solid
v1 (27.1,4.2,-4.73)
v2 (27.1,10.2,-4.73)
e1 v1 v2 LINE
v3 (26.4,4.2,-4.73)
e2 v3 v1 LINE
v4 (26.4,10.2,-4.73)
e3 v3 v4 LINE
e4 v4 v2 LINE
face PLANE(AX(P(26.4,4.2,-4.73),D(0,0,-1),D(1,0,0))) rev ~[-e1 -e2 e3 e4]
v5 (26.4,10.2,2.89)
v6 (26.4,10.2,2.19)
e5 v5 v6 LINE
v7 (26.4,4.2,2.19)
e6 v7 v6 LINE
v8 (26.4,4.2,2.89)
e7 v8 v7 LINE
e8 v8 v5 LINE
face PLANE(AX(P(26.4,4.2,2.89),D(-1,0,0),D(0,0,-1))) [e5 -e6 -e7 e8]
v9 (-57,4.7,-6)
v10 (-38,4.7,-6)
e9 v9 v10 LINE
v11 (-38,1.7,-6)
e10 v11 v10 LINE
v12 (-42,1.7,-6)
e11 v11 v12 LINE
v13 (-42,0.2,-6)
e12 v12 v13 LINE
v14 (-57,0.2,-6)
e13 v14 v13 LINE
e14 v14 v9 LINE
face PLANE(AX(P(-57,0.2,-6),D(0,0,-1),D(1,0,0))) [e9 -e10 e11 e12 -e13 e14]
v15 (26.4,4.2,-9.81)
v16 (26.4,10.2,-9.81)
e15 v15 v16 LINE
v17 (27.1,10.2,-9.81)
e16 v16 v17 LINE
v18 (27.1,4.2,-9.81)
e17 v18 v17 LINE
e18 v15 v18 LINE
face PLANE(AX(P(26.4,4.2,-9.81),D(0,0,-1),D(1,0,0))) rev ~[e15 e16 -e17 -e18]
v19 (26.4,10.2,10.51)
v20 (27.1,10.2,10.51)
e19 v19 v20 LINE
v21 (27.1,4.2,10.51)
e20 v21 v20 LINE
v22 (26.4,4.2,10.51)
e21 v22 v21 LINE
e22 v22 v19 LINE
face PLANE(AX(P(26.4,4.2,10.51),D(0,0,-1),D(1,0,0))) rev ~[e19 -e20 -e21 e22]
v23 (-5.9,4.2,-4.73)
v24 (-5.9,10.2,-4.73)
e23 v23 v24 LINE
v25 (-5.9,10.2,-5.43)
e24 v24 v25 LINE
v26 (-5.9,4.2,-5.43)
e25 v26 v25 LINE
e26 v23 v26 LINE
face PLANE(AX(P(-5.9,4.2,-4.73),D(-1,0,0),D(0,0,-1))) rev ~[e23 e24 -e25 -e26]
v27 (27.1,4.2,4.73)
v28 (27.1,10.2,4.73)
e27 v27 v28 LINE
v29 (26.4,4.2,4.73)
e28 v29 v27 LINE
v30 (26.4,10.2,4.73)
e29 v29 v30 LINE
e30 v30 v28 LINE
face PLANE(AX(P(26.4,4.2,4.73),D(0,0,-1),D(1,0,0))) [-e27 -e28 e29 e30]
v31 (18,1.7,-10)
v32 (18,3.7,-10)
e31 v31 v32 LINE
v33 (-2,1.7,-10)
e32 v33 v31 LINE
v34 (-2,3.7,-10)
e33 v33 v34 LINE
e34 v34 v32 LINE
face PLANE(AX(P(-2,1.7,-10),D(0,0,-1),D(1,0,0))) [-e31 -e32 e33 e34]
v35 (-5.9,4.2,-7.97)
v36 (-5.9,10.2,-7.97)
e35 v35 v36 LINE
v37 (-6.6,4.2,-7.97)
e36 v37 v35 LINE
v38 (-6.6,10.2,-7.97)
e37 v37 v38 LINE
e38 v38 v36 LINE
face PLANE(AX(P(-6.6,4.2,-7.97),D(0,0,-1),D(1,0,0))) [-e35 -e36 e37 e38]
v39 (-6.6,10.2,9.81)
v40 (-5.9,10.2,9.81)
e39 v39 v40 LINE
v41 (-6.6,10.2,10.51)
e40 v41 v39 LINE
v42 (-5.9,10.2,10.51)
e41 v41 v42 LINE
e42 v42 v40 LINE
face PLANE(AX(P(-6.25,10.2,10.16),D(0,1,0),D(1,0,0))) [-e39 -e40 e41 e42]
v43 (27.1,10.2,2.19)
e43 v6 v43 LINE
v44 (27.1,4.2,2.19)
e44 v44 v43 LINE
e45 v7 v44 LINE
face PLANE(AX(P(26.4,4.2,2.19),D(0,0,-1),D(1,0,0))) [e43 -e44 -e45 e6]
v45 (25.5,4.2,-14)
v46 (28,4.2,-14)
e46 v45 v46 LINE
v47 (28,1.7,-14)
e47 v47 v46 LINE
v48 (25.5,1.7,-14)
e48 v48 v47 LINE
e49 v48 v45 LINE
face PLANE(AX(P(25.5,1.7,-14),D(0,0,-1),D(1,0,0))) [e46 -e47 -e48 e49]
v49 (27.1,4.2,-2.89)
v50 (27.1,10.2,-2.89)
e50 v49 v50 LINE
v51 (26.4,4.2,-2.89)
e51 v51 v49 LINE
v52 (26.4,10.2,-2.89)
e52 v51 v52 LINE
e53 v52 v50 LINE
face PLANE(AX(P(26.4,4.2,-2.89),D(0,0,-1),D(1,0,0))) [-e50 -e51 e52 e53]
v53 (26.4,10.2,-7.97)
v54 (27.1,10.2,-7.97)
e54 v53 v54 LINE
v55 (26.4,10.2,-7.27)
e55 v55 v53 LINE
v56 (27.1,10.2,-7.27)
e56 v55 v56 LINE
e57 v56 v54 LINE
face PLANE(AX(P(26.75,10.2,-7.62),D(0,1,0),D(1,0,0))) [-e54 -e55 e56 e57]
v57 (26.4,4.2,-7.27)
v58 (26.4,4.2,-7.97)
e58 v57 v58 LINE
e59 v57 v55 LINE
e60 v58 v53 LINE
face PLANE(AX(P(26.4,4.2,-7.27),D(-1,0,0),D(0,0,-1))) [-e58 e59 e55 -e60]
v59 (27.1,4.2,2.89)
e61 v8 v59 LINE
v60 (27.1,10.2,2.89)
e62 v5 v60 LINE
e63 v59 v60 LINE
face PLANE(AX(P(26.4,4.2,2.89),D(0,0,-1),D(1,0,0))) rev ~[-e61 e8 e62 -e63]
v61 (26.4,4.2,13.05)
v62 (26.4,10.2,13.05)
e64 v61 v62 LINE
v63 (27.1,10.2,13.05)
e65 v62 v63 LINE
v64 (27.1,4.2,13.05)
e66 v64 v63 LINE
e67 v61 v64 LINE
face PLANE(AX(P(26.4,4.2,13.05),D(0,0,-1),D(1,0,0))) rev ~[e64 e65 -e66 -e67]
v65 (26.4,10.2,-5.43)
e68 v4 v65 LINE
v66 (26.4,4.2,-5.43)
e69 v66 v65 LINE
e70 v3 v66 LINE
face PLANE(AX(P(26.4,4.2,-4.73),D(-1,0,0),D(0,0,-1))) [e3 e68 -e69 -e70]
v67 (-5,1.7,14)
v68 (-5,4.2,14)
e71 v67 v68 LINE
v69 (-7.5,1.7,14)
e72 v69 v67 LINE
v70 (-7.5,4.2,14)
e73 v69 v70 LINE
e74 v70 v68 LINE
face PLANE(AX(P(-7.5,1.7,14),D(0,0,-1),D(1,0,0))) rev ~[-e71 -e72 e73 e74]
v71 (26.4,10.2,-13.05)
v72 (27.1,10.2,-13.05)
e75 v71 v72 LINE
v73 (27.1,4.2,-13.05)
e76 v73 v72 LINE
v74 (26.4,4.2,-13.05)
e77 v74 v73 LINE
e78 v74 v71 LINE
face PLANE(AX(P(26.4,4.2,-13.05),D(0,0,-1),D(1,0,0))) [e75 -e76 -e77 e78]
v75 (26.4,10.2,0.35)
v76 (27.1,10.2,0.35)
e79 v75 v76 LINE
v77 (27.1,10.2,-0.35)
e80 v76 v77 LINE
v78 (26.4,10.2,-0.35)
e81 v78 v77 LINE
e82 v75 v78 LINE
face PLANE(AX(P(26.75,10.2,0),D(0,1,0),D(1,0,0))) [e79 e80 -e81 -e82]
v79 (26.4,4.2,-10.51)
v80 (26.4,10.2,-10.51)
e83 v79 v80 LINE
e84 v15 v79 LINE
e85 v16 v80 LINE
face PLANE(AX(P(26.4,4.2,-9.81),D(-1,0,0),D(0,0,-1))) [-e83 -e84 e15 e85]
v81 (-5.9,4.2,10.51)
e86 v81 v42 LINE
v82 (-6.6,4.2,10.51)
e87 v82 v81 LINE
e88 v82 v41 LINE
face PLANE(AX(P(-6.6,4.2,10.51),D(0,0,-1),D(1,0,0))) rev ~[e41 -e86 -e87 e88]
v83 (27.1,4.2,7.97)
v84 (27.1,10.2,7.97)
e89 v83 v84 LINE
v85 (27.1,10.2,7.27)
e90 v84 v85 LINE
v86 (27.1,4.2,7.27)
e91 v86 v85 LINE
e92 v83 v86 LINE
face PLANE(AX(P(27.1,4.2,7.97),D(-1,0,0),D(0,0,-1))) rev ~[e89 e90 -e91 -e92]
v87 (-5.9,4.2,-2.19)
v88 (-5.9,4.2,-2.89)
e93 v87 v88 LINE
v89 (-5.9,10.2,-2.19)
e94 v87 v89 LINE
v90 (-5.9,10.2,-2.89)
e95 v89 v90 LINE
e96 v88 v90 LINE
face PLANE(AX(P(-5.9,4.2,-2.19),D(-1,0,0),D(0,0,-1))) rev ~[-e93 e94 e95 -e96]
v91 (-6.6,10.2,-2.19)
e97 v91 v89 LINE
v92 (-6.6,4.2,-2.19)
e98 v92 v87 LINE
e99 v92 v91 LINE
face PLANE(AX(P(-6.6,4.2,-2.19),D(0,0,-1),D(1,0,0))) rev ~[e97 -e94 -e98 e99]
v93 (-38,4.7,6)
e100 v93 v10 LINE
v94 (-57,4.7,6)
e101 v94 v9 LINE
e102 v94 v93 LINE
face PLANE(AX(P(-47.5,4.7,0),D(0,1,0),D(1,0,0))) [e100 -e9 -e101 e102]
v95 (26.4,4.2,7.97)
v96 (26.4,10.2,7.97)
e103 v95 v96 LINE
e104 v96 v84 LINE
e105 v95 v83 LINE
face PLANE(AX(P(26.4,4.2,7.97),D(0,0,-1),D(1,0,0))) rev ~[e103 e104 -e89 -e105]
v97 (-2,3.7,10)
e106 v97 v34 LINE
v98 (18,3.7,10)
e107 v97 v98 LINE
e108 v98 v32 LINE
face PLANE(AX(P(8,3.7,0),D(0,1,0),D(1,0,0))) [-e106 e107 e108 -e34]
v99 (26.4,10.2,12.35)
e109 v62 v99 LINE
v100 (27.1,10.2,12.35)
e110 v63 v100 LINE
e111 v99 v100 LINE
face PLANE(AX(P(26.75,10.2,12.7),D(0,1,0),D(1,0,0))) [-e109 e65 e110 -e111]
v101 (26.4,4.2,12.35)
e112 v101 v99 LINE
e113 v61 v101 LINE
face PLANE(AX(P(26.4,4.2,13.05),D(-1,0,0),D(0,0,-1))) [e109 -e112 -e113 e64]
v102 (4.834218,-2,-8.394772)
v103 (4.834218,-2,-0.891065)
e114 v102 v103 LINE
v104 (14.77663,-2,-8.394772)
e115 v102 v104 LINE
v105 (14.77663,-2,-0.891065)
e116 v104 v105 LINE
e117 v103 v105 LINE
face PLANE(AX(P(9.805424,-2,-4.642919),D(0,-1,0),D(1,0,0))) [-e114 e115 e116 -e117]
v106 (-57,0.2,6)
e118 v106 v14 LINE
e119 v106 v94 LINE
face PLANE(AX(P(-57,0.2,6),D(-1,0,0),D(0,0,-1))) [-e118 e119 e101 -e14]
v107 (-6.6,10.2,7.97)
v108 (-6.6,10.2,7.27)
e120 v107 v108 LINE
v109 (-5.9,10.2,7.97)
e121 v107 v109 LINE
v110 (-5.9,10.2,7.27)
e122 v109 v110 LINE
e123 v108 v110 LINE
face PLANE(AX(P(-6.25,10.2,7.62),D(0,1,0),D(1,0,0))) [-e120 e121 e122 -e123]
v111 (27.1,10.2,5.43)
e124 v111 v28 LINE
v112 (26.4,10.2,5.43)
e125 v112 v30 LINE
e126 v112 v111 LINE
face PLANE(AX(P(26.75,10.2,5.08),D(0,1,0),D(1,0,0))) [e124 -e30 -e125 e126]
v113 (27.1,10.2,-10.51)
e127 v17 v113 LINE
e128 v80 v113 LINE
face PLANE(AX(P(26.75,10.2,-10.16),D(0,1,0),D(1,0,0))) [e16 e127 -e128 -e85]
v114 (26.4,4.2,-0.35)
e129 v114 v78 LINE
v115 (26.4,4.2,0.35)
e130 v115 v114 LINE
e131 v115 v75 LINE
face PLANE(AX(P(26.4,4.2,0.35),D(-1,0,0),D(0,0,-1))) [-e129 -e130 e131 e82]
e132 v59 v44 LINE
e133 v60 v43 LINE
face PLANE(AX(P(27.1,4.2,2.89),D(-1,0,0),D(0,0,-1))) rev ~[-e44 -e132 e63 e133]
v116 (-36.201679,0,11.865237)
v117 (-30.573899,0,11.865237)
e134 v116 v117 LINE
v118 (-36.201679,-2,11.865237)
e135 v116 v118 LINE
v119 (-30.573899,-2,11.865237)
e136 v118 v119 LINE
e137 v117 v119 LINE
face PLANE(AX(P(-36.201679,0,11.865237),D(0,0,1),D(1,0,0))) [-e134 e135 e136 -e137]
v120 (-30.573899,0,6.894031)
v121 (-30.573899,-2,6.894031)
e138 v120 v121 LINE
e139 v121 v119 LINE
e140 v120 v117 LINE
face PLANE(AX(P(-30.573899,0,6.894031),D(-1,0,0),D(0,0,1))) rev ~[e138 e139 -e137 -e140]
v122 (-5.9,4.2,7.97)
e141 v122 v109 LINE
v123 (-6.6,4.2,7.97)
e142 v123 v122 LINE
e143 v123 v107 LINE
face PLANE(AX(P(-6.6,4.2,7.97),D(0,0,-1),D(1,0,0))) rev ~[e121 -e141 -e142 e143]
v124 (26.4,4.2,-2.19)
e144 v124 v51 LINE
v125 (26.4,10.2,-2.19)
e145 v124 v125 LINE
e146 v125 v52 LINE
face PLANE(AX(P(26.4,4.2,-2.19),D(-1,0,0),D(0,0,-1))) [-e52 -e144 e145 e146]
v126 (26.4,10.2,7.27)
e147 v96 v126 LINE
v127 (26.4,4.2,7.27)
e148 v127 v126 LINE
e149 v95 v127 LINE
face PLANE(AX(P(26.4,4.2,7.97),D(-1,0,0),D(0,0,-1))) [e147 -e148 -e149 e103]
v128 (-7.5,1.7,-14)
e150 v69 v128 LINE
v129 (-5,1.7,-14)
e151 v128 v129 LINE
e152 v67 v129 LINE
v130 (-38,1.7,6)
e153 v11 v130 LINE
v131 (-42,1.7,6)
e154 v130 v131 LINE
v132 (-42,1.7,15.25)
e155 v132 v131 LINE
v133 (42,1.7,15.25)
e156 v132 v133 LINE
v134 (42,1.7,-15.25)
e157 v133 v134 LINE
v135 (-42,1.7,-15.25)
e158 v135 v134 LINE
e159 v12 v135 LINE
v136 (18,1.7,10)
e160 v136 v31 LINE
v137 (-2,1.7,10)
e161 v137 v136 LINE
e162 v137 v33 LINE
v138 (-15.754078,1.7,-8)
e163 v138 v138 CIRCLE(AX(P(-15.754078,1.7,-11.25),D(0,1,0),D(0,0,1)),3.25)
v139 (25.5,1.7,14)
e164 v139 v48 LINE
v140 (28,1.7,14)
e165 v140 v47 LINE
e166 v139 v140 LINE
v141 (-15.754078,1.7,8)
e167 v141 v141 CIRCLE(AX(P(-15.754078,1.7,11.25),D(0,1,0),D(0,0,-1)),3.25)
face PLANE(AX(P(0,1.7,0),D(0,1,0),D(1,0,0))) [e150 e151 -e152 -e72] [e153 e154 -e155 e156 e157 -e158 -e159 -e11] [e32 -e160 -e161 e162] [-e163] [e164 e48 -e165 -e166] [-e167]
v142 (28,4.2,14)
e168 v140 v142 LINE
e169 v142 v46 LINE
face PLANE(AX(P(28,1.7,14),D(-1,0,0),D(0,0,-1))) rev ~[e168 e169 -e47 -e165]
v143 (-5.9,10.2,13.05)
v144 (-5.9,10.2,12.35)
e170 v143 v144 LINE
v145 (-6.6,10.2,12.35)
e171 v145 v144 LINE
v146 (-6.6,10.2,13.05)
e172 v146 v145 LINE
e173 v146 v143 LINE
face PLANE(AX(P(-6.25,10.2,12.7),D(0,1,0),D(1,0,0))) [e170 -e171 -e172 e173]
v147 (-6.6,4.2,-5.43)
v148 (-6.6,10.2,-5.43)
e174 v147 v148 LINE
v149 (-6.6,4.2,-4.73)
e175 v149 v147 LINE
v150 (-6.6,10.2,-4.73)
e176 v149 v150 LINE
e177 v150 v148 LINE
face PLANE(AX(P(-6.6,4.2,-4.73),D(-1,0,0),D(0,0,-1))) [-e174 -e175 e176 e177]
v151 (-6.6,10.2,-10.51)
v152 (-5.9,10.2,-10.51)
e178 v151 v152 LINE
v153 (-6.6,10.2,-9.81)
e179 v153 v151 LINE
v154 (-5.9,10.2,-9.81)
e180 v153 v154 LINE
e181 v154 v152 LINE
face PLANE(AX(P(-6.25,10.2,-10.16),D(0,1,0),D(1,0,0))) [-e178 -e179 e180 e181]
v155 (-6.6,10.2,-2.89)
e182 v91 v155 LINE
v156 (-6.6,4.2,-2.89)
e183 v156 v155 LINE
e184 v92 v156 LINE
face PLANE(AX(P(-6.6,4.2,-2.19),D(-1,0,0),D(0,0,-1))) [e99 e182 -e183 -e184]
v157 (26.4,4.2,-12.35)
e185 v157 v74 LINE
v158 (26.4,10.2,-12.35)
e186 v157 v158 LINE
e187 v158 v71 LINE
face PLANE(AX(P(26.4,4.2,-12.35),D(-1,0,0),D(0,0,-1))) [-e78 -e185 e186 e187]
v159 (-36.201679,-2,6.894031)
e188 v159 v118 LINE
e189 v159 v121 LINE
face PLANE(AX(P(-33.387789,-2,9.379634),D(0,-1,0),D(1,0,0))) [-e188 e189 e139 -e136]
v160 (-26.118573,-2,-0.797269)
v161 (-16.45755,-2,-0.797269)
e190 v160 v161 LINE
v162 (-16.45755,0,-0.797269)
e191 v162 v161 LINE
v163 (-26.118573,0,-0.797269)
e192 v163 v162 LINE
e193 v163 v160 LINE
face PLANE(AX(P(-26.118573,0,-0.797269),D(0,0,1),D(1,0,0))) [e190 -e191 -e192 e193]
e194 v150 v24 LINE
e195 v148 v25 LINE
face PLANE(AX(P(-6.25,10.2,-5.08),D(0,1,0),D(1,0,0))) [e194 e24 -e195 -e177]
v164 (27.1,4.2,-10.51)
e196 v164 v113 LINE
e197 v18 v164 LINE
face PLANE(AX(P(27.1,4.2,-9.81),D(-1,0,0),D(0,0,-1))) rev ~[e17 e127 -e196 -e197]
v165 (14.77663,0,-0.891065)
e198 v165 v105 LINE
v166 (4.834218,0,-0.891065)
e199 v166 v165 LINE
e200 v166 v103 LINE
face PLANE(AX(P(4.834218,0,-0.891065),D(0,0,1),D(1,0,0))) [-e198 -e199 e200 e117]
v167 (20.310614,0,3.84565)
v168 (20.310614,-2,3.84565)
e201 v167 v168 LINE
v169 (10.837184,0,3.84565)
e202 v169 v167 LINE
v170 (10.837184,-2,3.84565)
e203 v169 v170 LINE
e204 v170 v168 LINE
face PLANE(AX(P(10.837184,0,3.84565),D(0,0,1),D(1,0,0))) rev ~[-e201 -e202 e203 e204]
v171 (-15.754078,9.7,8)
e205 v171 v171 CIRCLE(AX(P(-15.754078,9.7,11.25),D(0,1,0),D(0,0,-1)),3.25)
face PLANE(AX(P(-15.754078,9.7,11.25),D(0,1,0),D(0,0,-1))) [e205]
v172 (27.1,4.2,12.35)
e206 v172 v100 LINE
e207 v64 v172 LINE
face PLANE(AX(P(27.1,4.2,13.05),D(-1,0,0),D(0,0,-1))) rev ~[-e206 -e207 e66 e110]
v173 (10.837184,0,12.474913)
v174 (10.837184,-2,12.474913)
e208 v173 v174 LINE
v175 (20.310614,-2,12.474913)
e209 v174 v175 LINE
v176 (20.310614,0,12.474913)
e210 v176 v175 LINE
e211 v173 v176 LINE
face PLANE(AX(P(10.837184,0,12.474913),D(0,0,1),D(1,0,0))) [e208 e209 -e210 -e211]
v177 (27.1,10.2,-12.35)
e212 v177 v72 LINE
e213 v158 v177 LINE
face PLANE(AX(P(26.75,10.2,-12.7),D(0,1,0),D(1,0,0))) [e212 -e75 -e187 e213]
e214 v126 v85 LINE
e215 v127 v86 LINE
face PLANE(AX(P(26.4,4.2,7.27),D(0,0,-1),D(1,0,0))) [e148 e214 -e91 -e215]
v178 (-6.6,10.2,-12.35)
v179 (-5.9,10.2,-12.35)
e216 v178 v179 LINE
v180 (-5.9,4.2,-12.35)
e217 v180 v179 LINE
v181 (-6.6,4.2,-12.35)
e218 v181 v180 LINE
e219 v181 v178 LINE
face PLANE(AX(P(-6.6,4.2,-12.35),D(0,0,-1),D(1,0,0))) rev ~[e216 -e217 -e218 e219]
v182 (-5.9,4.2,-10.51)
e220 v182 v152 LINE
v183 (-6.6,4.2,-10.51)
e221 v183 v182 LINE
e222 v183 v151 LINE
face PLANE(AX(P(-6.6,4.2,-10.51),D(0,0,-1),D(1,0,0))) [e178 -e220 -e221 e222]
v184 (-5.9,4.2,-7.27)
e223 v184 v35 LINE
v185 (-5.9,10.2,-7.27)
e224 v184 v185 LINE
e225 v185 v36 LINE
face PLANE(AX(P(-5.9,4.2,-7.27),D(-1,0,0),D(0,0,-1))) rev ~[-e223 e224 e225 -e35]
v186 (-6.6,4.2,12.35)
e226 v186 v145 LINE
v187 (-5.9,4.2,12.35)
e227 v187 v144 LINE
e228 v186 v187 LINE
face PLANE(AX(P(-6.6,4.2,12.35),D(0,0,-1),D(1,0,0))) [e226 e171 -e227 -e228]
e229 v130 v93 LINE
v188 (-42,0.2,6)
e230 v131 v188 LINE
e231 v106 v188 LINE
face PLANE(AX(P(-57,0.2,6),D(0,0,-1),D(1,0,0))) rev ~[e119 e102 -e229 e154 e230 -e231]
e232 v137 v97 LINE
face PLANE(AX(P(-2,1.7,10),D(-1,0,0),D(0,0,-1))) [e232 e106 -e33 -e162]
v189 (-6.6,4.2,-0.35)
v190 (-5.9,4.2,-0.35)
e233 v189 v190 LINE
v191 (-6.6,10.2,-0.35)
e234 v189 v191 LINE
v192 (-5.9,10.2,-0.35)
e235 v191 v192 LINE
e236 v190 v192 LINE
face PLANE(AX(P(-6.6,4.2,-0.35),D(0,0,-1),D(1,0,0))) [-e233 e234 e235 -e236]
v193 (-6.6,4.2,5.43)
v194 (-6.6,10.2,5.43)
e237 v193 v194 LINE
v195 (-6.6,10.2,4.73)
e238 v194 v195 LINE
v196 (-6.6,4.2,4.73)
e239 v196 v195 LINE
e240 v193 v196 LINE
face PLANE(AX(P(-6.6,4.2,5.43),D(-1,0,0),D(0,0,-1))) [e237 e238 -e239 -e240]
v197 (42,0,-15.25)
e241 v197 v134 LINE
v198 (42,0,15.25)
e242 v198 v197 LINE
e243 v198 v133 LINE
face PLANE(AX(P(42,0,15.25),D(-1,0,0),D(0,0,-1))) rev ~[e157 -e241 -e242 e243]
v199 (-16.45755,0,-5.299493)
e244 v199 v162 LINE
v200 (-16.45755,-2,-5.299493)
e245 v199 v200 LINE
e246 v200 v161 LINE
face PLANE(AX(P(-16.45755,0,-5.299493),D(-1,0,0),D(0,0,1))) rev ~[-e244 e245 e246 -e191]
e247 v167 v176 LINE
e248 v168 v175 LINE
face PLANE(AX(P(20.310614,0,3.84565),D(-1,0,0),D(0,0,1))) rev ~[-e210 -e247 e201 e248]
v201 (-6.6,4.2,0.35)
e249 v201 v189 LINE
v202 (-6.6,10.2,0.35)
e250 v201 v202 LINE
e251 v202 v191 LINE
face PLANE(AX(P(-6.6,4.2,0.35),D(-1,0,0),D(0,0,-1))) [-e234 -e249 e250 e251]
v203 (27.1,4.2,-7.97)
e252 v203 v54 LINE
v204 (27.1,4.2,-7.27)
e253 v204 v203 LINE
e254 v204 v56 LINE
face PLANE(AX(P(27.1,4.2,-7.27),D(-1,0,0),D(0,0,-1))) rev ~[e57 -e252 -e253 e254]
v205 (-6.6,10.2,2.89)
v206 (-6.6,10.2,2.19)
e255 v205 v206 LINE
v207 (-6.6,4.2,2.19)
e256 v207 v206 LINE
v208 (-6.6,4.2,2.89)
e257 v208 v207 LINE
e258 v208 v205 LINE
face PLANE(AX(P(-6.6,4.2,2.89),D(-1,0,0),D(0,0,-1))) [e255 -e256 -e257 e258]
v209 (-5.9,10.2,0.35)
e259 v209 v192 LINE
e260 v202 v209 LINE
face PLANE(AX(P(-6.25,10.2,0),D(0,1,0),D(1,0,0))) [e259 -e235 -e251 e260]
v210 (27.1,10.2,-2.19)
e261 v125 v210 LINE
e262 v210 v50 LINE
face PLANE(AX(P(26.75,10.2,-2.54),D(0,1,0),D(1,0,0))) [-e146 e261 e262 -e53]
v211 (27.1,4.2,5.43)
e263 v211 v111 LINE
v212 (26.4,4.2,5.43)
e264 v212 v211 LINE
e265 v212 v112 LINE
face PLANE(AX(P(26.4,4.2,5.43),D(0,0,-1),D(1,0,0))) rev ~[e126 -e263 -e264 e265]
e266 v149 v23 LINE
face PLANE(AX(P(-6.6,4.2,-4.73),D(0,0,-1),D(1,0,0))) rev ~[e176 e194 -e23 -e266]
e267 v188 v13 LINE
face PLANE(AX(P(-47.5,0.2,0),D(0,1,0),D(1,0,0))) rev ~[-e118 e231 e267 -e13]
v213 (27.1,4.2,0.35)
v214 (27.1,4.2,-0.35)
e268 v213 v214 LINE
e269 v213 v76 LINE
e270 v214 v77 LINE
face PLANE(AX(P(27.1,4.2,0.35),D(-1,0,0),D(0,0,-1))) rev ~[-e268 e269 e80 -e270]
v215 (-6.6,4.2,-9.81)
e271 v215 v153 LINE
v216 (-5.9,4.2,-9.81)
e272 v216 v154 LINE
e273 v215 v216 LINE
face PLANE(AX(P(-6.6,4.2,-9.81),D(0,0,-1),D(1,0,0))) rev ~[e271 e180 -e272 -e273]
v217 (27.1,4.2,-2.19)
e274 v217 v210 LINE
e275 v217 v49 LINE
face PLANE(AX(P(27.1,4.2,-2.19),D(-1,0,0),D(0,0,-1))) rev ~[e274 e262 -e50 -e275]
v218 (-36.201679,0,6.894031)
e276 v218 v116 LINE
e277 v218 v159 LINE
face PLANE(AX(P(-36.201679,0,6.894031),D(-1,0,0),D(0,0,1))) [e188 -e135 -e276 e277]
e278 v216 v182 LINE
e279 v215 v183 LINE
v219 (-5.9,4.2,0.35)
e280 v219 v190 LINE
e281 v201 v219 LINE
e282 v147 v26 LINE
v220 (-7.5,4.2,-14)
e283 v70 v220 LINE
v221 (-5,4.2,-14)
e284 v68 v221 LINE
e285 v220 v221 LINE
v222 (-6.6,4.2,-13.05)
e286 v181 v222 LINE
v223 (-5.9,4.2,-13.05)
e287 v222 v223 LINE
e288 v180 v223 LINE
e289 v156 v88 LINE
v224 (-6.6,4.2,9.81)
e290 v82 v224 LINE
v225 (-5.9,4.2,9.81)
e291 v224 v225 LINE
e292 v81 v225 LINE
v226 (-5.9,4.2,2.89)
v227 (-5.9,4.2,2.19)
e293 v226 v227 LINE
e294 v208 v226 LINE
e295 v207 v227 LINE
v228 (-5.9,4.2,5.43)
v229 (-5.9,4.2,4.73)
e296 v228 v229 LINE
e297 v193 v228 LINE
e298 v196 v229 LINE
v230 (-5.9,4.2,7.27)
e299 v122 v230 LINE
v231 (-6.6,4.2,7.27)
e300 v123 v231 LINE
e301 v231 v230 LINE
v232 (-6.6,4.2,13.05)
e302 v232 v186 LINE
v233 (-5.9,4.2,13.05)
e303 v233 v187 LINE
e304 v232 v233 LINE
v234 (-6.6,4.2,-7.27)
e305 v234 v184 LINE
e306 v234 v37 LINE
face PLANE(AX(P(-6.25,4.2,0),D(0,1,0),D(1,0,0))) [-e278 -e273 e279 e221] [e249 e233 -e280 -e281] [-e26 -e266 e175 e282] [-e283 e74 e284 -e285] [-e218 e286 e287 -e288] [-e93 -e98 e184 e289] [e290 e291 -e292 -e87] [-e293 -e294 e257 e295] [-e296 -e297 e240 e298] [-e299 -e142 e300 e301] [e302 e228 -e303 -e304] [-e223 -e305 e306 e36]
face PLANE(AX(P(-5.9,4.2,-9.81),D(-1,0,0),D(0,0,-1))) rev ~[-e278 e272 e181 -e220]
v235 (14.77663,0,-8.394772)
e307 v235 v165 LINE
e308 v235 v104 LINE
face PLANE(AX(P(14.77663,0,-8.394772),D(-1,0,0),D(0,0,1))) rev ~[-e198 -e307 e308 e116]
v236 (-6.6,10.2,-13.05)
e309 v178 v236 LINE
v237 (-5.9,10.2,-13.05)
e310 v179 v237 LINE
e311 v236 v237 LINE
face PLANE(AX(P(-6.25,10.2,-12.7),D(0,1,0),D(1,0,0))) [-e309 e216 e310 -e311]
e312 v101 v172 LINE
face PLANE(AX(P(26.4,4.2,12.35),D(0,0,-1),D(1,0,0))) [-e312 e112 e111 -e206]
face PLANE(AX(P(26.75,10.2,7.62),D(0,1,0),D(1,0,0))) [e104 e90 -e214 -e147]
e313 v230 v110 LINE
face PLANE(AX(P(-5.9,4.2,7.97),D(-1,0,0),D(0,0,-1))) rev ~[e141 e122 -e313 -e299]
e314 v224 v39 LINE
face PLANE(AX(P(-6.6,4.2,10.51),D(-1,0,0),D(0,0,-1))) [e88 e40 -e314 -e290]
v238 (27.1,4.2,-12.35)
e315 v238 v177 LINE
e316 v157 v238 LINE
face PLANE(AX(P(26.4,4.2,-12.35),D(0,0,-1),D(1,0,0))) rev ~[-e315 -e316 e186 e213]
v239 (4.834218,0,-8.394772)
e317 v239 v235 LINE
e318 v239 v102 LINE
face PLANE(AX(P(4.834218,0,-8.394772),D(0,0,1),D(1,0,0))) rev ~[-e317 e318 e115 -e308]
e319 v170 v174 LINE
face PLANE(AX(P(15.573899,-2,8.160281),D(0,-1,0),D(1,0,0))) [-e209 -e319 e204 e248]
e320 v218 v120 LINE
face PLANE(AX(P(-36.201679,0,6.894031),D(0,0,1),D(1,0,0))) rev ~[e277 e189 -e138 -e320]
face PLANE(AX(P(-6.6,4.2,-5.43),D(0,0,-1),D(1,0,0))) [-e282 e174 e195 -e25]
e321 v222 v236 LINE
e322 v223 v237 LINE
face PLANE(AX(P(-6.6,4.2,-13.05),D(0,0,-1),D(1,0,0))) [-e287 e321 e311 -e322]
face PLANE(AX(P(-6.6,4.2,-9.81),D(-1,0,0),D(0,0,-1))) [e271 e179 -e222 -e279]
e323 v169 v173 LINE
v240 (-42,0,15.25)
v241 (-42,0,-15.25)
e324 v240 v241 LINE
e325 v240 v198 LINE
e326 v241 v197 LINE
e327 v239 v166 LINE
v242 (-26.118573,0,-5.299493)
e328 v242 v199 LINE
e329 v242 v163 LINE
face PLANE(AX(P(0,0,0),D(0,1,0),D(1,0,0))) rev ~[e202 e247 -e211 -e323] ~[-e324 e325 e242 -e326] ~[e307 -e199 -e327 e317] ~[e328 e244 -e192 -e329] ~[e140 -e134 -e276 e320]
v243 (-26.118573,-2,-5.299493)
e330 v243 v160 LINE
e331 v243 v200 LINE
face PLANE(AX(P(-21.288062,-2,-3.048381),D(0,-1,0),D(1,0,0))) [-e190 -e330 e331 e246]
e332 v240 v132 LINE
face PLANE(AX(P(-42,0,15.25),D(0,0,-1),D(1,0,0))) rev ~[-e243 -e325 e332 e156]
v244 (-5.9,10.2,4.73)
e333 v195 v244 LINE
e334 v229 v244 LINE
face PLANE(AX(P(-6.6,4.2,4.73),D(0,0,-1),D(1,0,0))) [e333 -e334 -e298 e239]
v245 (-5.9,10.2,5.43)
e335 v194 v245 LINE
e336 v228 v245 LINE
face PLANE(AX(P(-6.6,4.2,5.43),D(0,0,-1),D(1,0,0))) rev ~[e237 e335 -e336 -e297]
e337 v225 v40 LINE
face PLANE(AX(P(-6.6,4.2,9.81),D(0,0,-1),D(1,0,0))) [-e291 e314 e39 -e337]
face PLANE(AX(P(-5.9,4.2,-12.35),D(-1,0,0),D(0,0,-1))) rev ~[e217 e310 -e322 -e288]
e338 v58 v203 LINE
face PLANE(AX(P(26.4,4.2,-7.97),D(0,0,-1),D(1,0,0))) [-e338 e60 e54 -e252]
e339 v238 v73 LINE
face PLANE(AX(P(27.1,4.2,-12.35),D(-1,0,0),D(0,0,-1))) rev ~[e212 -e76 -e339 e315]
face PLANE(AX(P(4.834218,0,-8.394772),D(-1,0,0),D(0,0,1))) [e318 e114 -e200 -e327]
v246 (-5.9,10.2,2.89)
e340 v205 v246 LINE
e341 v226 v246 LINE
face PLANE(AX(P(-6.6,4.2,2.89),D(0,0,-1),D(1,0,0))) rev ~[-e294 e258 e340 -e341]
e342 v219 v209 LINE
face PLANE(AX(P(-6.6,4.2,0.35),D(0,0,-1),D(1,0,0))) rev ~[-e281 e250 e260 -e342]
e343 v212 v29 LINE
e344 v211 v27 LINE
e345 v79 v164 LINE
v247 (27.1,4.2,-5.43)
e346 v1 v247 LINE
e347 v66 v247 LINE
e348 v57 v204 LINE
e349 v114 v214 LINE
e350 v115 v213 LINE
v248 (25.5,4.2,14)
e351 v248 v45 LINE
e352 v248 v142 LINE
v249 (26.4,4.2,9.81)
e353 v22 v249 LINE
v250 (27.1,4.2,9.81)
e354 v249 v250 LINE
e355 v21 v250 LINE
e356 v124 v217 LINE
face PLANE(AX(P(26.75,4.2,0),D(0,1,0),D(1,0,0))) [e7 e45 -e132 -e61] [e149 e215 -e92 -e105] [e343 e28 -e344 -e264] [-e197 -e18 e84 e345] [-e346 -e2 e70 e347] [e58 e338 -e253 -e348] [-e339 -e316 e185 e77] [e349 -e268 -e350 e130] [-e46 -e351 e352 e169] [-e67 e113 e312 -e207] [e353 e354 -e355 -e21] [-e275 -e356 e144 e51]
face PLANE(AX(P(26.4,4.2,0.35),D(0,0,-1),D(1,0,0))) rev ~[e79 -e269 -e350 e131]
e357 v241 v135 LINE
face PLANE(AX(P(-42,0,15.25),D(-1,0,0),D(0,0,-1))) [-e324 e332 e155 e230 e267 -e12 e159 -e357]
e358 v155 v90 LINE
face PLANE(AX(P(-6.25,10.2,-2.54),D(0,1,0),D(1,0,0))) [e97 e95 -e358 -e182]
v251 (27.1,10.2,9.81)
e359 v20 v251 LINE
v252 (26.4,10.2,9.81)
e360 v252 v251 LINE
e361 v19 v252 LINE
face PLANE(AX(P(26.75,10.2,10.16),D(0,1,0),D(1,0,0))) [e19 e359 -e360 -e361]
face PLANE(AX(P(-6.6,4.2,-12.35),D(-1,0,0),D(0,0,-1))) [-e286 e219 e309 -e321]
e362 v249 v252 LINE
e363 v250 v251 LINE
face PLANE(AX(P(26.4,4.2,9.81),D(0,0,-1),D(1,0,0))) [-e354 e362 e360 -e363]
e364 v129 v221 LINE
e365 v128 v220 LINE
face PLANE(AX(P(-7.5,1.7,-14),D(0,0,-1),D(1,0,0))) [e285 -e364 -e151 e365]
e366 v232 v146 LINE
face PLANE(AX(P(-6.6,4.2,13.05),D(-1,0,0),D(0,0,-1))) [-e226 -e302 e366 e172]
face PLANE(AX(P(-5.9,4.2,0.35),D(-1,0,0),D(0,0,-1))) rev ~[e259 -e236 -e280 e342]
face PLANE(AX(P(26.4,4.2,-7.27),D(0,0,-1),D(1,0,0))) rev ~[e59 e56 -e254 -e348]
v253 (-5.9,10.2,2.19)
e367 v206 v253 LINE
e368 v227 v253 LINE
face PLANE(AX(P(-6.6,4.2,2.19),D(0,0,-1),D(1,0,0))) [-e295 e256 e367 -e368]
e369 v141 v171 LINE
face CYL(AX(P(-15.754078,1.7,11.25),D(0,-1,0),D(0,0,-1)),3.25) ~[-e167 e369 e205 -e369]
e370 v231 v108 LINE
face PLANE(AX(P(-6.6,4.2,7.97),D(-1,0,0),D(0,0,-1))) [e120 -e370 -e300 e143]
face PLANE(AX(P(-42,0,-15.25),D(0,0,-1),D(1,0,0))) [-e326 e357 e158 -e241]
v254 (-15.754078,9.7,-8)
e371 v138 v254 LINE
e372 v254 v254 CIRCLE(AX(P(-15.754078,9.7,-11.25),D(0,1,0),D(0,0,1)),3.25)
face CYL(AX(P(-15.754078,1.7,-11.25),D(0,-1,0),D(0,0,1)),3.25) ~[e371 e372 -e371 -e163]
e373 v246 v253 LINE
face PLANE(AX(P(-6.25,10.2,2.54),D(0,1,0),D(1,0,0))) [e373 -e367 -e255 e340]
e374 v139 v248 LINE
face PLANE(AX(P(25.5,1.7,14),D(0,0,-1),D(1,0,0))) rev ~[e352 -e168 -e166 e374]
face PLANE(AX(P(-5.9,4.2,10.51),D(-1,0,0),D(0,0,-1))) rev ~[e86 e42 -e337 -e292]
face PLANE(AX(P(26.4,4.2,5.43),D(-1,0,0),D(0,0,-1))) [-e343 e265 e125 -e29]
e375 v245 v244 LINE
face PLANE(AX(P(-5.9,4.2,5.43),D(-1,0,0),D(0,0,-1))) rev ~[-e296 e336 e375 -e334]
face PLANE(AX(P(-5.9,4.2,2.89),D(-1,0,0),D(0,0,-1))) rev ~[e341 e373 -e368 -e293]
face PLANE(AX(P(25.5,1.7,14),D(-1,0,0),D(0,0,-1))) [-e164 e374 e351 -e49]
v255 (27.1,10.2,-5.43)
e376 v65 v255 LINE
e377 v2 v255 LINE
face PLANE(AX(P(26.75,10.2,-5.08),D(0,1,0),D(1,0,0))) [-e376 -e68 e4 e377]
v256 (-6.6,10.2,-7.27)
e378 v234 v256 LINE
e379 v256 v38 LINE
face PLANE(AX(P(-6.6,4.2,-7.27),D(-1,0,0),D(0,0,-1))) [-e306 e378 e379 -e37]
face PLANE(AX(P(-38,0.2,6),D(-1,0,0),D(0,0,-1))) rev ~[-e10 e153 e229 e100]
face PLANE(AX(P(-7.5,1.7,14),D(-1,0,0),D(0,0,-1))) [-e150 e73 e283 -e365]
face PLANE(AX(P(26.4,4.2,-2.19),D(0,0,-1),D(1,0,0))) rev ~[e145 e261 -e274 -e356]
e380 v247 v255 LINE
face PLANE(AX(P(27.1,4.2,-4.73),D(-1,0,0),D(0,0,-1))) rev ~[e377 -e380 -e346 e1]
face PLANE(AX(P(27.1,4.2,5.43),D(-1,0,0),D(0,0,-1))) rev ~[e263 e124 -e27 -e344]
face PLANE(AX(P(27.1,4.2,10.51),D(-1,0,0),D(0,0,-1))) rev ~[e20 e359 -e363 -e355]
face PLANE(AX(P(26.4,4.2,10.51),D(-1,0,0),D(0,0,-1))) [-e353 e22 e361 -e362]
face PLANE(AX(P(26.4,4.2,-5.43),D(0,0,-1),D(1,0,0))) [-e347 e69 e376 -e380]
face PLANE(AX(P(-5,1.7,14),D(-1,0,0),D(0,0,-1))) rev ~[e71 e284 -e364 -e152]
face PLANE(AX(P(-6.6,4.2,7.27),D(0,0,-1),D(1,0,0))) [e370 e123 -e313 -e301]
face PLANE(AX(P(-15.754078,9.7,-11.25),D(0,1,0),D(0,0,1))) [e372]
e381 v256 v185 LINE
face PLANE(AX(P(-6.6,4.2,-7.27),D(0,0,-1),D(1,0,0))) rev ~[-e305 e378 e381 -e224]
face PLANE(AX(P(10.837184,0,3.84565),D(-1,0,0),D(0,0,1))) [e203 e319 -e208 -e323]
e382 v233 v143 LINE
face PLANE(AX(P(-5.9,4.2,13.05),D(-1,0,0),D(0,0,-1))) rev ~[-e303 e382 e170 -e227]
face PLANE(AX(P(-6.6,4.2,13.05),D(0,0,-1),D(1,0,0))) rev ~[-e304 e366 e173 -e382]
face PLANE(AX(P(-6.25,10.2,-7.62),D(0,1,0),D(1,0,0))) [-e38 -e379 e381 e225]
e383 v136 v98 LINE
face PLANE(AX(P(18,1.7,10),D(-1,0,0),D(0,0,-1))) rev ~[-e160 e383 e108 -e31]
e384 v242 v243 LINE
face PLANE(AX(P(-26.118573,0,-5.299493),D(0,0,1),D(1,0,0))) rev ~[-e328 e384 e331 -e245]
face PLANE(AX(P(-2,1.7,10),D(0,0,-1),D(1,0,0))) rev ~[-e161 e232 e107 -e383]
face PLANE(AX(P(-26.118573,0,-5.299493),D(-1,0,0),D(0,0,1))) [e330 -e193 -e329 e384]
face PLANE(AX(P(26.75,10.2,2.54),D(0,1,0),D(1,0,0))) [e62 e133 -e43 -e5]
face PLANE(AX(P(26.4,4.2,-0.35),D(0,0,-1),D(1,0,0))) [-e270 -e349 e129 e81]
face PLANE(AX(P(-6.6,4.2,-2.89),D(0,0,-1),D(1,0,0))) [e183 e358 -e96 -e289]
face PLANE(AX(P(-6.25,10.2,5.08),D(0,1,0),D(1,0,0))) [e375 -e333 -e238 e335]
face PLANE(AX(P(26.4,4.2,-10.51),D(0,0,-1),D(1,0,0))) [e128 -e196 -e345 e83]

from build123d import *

# Parameters (mm, degrees)
SKETCH1_W                = 84
SKETCH1_H                = 30.5
BOSS_EXTRUDE1_DEPTH      = 1.7
BOSS_EXTRUDE2_DEPTH      = 3
BOSS_EXTRUDE2_DEPTH_BACK = 1.5
SKETCH2_W                = 19
SKETCH2_H                = 12
SKETCH3_W                = 20
SKETCH3_H                = 20
BOSS_EXTRUDE3_DEPTH      = 2
SKETCH4_W                = 5.627780268
SKETCH4_H                = 4.971205903
SKETCH4_W_2              = 9.661022794
SKETCH4_H_2              = 4.502224215
SKETCH4_W_3              = 9.473430118
SKETCH4_H_3              = 8.629263078
SKETCH4_W_4              = 9.942411808
SKETCH4_H_4              = 7.503707025
BOSS_EXTRUDE4_DEPTH      = 2
SKETCH5_R                = 3.25
BOSS_EXTRUDE5_DEPTH      = 8
SKETCH6_W                = 2.5
SKETCH6_H                = 28
BOSS_EXTRUDE6_DEPTH      = 2.5
SKETCH7_W                = 0.7
SKETCH7_H                = 0.7
BOSS_EXTRUDE7_DEPTH      = 6


with BuildPart() as part:
    # Sketch1 → Boss-Extrude1 (new body)
    with BuildSketch(Plane(origin=(0, 0, 0), x_dir=(1, 0, 0), z_dir=(0, 1, 0))):
        Rectangle(SKETCH1_W, SKETCH1_H)
    extrude(amount=BOSS_EXTRUDE1_DEPTH)

    # Sketch2 → Boss-Extrude2 (add, two sides: drawn at the far end of the back side and taken through both)
    with BuildSketch(Plane(origin=(0, 1.7, 0), x_dir=(1, 0, 0), z_dir=(0, 1, 0)).offset(-BOSS_EXTRUDE2_DEPTH_BACK)):
        with Locations((-47.5, 0)):
            Rectangle(SKETCH2_W, SKETCH2_H)
    extrude(amount=BOSS_EXTRUDE2_DEPTH + BOSS_EXTRUDE2_DEPTH_BACK)

    # Sketch3 → Boss-Extrude3 (add)
    with BuildSketch(Plane(origin=(0, 1.7, 0), x_dir=(1, 0, 0), z_dir=(0, 1, 0))):
        with Locations((8, 0)):
            Rectangle(SKETCH3_W, SKETCH3_H)
    extrude(amount=BOSS_EXTRUDE3_DEPTH)

    # Sketch4 → Boss-Extrude4 (add)
    with BuildSketch(Plane.XZ):
        with Locations((-33.387789234, 9.379633781)):
            Rectangle(SKETCH4_W, SKETCH4_H)
        with Locations((-21.288061657, -3.048380979)):
            Rectangle(SKETCH4_W_2, SKETCH4_H_2)
        with Locations((15.5738991, 8.160281389)):
            Rectangle(SKETCH4_W_3, SKETCH4_H_3)
        with Locations((9.805424325, -4.642918722)):
            Rectangle(SKETCH4_W_4, SKETCH4_H_4)
    extrude(amount=BOSS_EXTRUDE4_DEPTH)

    # Sketch5 → Boss-Extrude5 (add)
    with BuildSketch(Plane(origin=(0, 1.7, 0), x_dir=(1, 0, 0), z_dir=(0, 1, 0))):
        with Locations(Location((-15.754077727, 11.25, 0), (0, 0, 270))):
            Circle(SKETCH5_R)
        with Locations(Location((-15.754077727, -11.25, 0), (0, 0, 90))):
            Circle(SKETCH5_R)
    extrude(amount=BOSS_EXTRUDE5_DEPTH)

    # Sketch6 → Boss-Extrude6 (add)
    with BuildSketch(Plane(origin=(0, 1.7, 0), x_dir=(1, 0, 0), z_dir=(0, 1, 0))):
        with Locations((-6.25, 0)):
            Rectangle(SKETCH6_W, SKETCH6_H)
        with Locations((26.75, 0)):
            Rectangle(SKETCH6_W, SKETCH6_H)
    extrude(amount=BOSS_EXTRUDE6_DEPTH)

    # Sketch7 → Boss-Extrude7 (add)
    with BuildSketch(Plane(origin=(0, 4.2, 0), x_dir=(1, 0, 0), z_dir=(0, 1, 0))):
        with Locations((-6.25, 2.54)):
            Rectangle(SKETCH7_W, SKETCH7_H)
        with Locations((-6.25, 0)):
            Rectangle(SKETCH7_W, SKETCH7_H)
        with Locations((-6.25, 5.08)):
            Rectangle(SKETCH7_W, SKETCH7_H)
        with Locations((-6.25, 7.62)):
            Rectangle(SKETCH7_W, SKETCH7_H)
        with Locations((-6.25, 10.16)):
            Rectangle(SKETCH7_W, SKETCH7_H)
        with Locations((-6.25, 12.7)):
            Rectangle(SKETCH7_W, SKETCH7_H)
        with Locations((-6.25, -2.54)):
            Rectangle(SKETCH7_W, SKETCH7_H)
        with Locations((-6.25, -5.08)):
            Rectangle(SKETCH7_W, SKETCH7_H)
        with Locations((-6.25, -7.62)):
            Rectangle(SKETCH7_W, SKETCH7_H)
        with Locations((-6.25, -10.16)):
            Rectangle(SKETCH7_W, SKETCH7_H)
        with Locations((-6.25, -12.7)):
            Rectangle(SKETCH7_W, SKETCH7_H)
        with Locations((26.75, 2.54)):
            Rectangle(SKETCH7_W, SKETCH7_H)
        with Locations((26.75, 10.16)):
            Rectangle(SKETCH7_W, SKETCH7_H)
        with Locations((26.75, -12.7)):
            Rectangle(SKETCH7_W, SKETCH7_H)
        with Locations((26.75, -2.54)):
            Rectangle(SKETCH7_W, SKETCH7_H)
        with Locations((26.75, 7.62)):
            Rectangle(SKETCH7_W, SKETCH7_H)
        with Locations((26.75, 12.7)):
            Rectangle(SKETCH7_W, SKETCH7_H)
        with Locations((26.75, 0)):
            Rectangle(SKETCH7_W, SKETCH7_H)
        with Locations((26.75, -5.08)):
            Rectangle(SKETCH7_W, SKETCH7_H)
        with Locations((26.75, -10.16)):
            Rectangle(SKETCH7_W, SKETCH7_H)
        with Locations((26.75, -7.62)):
            Rectangle(SKETCH7_W, SKETCH7_H)
        with Locations((26.75, 5.08)):
            Rectangle(SKETCH7_W, SKETCH7_H)
    extrude(amount=BOSS_EXTRUDE7_DEPTH)


solid = part.part
